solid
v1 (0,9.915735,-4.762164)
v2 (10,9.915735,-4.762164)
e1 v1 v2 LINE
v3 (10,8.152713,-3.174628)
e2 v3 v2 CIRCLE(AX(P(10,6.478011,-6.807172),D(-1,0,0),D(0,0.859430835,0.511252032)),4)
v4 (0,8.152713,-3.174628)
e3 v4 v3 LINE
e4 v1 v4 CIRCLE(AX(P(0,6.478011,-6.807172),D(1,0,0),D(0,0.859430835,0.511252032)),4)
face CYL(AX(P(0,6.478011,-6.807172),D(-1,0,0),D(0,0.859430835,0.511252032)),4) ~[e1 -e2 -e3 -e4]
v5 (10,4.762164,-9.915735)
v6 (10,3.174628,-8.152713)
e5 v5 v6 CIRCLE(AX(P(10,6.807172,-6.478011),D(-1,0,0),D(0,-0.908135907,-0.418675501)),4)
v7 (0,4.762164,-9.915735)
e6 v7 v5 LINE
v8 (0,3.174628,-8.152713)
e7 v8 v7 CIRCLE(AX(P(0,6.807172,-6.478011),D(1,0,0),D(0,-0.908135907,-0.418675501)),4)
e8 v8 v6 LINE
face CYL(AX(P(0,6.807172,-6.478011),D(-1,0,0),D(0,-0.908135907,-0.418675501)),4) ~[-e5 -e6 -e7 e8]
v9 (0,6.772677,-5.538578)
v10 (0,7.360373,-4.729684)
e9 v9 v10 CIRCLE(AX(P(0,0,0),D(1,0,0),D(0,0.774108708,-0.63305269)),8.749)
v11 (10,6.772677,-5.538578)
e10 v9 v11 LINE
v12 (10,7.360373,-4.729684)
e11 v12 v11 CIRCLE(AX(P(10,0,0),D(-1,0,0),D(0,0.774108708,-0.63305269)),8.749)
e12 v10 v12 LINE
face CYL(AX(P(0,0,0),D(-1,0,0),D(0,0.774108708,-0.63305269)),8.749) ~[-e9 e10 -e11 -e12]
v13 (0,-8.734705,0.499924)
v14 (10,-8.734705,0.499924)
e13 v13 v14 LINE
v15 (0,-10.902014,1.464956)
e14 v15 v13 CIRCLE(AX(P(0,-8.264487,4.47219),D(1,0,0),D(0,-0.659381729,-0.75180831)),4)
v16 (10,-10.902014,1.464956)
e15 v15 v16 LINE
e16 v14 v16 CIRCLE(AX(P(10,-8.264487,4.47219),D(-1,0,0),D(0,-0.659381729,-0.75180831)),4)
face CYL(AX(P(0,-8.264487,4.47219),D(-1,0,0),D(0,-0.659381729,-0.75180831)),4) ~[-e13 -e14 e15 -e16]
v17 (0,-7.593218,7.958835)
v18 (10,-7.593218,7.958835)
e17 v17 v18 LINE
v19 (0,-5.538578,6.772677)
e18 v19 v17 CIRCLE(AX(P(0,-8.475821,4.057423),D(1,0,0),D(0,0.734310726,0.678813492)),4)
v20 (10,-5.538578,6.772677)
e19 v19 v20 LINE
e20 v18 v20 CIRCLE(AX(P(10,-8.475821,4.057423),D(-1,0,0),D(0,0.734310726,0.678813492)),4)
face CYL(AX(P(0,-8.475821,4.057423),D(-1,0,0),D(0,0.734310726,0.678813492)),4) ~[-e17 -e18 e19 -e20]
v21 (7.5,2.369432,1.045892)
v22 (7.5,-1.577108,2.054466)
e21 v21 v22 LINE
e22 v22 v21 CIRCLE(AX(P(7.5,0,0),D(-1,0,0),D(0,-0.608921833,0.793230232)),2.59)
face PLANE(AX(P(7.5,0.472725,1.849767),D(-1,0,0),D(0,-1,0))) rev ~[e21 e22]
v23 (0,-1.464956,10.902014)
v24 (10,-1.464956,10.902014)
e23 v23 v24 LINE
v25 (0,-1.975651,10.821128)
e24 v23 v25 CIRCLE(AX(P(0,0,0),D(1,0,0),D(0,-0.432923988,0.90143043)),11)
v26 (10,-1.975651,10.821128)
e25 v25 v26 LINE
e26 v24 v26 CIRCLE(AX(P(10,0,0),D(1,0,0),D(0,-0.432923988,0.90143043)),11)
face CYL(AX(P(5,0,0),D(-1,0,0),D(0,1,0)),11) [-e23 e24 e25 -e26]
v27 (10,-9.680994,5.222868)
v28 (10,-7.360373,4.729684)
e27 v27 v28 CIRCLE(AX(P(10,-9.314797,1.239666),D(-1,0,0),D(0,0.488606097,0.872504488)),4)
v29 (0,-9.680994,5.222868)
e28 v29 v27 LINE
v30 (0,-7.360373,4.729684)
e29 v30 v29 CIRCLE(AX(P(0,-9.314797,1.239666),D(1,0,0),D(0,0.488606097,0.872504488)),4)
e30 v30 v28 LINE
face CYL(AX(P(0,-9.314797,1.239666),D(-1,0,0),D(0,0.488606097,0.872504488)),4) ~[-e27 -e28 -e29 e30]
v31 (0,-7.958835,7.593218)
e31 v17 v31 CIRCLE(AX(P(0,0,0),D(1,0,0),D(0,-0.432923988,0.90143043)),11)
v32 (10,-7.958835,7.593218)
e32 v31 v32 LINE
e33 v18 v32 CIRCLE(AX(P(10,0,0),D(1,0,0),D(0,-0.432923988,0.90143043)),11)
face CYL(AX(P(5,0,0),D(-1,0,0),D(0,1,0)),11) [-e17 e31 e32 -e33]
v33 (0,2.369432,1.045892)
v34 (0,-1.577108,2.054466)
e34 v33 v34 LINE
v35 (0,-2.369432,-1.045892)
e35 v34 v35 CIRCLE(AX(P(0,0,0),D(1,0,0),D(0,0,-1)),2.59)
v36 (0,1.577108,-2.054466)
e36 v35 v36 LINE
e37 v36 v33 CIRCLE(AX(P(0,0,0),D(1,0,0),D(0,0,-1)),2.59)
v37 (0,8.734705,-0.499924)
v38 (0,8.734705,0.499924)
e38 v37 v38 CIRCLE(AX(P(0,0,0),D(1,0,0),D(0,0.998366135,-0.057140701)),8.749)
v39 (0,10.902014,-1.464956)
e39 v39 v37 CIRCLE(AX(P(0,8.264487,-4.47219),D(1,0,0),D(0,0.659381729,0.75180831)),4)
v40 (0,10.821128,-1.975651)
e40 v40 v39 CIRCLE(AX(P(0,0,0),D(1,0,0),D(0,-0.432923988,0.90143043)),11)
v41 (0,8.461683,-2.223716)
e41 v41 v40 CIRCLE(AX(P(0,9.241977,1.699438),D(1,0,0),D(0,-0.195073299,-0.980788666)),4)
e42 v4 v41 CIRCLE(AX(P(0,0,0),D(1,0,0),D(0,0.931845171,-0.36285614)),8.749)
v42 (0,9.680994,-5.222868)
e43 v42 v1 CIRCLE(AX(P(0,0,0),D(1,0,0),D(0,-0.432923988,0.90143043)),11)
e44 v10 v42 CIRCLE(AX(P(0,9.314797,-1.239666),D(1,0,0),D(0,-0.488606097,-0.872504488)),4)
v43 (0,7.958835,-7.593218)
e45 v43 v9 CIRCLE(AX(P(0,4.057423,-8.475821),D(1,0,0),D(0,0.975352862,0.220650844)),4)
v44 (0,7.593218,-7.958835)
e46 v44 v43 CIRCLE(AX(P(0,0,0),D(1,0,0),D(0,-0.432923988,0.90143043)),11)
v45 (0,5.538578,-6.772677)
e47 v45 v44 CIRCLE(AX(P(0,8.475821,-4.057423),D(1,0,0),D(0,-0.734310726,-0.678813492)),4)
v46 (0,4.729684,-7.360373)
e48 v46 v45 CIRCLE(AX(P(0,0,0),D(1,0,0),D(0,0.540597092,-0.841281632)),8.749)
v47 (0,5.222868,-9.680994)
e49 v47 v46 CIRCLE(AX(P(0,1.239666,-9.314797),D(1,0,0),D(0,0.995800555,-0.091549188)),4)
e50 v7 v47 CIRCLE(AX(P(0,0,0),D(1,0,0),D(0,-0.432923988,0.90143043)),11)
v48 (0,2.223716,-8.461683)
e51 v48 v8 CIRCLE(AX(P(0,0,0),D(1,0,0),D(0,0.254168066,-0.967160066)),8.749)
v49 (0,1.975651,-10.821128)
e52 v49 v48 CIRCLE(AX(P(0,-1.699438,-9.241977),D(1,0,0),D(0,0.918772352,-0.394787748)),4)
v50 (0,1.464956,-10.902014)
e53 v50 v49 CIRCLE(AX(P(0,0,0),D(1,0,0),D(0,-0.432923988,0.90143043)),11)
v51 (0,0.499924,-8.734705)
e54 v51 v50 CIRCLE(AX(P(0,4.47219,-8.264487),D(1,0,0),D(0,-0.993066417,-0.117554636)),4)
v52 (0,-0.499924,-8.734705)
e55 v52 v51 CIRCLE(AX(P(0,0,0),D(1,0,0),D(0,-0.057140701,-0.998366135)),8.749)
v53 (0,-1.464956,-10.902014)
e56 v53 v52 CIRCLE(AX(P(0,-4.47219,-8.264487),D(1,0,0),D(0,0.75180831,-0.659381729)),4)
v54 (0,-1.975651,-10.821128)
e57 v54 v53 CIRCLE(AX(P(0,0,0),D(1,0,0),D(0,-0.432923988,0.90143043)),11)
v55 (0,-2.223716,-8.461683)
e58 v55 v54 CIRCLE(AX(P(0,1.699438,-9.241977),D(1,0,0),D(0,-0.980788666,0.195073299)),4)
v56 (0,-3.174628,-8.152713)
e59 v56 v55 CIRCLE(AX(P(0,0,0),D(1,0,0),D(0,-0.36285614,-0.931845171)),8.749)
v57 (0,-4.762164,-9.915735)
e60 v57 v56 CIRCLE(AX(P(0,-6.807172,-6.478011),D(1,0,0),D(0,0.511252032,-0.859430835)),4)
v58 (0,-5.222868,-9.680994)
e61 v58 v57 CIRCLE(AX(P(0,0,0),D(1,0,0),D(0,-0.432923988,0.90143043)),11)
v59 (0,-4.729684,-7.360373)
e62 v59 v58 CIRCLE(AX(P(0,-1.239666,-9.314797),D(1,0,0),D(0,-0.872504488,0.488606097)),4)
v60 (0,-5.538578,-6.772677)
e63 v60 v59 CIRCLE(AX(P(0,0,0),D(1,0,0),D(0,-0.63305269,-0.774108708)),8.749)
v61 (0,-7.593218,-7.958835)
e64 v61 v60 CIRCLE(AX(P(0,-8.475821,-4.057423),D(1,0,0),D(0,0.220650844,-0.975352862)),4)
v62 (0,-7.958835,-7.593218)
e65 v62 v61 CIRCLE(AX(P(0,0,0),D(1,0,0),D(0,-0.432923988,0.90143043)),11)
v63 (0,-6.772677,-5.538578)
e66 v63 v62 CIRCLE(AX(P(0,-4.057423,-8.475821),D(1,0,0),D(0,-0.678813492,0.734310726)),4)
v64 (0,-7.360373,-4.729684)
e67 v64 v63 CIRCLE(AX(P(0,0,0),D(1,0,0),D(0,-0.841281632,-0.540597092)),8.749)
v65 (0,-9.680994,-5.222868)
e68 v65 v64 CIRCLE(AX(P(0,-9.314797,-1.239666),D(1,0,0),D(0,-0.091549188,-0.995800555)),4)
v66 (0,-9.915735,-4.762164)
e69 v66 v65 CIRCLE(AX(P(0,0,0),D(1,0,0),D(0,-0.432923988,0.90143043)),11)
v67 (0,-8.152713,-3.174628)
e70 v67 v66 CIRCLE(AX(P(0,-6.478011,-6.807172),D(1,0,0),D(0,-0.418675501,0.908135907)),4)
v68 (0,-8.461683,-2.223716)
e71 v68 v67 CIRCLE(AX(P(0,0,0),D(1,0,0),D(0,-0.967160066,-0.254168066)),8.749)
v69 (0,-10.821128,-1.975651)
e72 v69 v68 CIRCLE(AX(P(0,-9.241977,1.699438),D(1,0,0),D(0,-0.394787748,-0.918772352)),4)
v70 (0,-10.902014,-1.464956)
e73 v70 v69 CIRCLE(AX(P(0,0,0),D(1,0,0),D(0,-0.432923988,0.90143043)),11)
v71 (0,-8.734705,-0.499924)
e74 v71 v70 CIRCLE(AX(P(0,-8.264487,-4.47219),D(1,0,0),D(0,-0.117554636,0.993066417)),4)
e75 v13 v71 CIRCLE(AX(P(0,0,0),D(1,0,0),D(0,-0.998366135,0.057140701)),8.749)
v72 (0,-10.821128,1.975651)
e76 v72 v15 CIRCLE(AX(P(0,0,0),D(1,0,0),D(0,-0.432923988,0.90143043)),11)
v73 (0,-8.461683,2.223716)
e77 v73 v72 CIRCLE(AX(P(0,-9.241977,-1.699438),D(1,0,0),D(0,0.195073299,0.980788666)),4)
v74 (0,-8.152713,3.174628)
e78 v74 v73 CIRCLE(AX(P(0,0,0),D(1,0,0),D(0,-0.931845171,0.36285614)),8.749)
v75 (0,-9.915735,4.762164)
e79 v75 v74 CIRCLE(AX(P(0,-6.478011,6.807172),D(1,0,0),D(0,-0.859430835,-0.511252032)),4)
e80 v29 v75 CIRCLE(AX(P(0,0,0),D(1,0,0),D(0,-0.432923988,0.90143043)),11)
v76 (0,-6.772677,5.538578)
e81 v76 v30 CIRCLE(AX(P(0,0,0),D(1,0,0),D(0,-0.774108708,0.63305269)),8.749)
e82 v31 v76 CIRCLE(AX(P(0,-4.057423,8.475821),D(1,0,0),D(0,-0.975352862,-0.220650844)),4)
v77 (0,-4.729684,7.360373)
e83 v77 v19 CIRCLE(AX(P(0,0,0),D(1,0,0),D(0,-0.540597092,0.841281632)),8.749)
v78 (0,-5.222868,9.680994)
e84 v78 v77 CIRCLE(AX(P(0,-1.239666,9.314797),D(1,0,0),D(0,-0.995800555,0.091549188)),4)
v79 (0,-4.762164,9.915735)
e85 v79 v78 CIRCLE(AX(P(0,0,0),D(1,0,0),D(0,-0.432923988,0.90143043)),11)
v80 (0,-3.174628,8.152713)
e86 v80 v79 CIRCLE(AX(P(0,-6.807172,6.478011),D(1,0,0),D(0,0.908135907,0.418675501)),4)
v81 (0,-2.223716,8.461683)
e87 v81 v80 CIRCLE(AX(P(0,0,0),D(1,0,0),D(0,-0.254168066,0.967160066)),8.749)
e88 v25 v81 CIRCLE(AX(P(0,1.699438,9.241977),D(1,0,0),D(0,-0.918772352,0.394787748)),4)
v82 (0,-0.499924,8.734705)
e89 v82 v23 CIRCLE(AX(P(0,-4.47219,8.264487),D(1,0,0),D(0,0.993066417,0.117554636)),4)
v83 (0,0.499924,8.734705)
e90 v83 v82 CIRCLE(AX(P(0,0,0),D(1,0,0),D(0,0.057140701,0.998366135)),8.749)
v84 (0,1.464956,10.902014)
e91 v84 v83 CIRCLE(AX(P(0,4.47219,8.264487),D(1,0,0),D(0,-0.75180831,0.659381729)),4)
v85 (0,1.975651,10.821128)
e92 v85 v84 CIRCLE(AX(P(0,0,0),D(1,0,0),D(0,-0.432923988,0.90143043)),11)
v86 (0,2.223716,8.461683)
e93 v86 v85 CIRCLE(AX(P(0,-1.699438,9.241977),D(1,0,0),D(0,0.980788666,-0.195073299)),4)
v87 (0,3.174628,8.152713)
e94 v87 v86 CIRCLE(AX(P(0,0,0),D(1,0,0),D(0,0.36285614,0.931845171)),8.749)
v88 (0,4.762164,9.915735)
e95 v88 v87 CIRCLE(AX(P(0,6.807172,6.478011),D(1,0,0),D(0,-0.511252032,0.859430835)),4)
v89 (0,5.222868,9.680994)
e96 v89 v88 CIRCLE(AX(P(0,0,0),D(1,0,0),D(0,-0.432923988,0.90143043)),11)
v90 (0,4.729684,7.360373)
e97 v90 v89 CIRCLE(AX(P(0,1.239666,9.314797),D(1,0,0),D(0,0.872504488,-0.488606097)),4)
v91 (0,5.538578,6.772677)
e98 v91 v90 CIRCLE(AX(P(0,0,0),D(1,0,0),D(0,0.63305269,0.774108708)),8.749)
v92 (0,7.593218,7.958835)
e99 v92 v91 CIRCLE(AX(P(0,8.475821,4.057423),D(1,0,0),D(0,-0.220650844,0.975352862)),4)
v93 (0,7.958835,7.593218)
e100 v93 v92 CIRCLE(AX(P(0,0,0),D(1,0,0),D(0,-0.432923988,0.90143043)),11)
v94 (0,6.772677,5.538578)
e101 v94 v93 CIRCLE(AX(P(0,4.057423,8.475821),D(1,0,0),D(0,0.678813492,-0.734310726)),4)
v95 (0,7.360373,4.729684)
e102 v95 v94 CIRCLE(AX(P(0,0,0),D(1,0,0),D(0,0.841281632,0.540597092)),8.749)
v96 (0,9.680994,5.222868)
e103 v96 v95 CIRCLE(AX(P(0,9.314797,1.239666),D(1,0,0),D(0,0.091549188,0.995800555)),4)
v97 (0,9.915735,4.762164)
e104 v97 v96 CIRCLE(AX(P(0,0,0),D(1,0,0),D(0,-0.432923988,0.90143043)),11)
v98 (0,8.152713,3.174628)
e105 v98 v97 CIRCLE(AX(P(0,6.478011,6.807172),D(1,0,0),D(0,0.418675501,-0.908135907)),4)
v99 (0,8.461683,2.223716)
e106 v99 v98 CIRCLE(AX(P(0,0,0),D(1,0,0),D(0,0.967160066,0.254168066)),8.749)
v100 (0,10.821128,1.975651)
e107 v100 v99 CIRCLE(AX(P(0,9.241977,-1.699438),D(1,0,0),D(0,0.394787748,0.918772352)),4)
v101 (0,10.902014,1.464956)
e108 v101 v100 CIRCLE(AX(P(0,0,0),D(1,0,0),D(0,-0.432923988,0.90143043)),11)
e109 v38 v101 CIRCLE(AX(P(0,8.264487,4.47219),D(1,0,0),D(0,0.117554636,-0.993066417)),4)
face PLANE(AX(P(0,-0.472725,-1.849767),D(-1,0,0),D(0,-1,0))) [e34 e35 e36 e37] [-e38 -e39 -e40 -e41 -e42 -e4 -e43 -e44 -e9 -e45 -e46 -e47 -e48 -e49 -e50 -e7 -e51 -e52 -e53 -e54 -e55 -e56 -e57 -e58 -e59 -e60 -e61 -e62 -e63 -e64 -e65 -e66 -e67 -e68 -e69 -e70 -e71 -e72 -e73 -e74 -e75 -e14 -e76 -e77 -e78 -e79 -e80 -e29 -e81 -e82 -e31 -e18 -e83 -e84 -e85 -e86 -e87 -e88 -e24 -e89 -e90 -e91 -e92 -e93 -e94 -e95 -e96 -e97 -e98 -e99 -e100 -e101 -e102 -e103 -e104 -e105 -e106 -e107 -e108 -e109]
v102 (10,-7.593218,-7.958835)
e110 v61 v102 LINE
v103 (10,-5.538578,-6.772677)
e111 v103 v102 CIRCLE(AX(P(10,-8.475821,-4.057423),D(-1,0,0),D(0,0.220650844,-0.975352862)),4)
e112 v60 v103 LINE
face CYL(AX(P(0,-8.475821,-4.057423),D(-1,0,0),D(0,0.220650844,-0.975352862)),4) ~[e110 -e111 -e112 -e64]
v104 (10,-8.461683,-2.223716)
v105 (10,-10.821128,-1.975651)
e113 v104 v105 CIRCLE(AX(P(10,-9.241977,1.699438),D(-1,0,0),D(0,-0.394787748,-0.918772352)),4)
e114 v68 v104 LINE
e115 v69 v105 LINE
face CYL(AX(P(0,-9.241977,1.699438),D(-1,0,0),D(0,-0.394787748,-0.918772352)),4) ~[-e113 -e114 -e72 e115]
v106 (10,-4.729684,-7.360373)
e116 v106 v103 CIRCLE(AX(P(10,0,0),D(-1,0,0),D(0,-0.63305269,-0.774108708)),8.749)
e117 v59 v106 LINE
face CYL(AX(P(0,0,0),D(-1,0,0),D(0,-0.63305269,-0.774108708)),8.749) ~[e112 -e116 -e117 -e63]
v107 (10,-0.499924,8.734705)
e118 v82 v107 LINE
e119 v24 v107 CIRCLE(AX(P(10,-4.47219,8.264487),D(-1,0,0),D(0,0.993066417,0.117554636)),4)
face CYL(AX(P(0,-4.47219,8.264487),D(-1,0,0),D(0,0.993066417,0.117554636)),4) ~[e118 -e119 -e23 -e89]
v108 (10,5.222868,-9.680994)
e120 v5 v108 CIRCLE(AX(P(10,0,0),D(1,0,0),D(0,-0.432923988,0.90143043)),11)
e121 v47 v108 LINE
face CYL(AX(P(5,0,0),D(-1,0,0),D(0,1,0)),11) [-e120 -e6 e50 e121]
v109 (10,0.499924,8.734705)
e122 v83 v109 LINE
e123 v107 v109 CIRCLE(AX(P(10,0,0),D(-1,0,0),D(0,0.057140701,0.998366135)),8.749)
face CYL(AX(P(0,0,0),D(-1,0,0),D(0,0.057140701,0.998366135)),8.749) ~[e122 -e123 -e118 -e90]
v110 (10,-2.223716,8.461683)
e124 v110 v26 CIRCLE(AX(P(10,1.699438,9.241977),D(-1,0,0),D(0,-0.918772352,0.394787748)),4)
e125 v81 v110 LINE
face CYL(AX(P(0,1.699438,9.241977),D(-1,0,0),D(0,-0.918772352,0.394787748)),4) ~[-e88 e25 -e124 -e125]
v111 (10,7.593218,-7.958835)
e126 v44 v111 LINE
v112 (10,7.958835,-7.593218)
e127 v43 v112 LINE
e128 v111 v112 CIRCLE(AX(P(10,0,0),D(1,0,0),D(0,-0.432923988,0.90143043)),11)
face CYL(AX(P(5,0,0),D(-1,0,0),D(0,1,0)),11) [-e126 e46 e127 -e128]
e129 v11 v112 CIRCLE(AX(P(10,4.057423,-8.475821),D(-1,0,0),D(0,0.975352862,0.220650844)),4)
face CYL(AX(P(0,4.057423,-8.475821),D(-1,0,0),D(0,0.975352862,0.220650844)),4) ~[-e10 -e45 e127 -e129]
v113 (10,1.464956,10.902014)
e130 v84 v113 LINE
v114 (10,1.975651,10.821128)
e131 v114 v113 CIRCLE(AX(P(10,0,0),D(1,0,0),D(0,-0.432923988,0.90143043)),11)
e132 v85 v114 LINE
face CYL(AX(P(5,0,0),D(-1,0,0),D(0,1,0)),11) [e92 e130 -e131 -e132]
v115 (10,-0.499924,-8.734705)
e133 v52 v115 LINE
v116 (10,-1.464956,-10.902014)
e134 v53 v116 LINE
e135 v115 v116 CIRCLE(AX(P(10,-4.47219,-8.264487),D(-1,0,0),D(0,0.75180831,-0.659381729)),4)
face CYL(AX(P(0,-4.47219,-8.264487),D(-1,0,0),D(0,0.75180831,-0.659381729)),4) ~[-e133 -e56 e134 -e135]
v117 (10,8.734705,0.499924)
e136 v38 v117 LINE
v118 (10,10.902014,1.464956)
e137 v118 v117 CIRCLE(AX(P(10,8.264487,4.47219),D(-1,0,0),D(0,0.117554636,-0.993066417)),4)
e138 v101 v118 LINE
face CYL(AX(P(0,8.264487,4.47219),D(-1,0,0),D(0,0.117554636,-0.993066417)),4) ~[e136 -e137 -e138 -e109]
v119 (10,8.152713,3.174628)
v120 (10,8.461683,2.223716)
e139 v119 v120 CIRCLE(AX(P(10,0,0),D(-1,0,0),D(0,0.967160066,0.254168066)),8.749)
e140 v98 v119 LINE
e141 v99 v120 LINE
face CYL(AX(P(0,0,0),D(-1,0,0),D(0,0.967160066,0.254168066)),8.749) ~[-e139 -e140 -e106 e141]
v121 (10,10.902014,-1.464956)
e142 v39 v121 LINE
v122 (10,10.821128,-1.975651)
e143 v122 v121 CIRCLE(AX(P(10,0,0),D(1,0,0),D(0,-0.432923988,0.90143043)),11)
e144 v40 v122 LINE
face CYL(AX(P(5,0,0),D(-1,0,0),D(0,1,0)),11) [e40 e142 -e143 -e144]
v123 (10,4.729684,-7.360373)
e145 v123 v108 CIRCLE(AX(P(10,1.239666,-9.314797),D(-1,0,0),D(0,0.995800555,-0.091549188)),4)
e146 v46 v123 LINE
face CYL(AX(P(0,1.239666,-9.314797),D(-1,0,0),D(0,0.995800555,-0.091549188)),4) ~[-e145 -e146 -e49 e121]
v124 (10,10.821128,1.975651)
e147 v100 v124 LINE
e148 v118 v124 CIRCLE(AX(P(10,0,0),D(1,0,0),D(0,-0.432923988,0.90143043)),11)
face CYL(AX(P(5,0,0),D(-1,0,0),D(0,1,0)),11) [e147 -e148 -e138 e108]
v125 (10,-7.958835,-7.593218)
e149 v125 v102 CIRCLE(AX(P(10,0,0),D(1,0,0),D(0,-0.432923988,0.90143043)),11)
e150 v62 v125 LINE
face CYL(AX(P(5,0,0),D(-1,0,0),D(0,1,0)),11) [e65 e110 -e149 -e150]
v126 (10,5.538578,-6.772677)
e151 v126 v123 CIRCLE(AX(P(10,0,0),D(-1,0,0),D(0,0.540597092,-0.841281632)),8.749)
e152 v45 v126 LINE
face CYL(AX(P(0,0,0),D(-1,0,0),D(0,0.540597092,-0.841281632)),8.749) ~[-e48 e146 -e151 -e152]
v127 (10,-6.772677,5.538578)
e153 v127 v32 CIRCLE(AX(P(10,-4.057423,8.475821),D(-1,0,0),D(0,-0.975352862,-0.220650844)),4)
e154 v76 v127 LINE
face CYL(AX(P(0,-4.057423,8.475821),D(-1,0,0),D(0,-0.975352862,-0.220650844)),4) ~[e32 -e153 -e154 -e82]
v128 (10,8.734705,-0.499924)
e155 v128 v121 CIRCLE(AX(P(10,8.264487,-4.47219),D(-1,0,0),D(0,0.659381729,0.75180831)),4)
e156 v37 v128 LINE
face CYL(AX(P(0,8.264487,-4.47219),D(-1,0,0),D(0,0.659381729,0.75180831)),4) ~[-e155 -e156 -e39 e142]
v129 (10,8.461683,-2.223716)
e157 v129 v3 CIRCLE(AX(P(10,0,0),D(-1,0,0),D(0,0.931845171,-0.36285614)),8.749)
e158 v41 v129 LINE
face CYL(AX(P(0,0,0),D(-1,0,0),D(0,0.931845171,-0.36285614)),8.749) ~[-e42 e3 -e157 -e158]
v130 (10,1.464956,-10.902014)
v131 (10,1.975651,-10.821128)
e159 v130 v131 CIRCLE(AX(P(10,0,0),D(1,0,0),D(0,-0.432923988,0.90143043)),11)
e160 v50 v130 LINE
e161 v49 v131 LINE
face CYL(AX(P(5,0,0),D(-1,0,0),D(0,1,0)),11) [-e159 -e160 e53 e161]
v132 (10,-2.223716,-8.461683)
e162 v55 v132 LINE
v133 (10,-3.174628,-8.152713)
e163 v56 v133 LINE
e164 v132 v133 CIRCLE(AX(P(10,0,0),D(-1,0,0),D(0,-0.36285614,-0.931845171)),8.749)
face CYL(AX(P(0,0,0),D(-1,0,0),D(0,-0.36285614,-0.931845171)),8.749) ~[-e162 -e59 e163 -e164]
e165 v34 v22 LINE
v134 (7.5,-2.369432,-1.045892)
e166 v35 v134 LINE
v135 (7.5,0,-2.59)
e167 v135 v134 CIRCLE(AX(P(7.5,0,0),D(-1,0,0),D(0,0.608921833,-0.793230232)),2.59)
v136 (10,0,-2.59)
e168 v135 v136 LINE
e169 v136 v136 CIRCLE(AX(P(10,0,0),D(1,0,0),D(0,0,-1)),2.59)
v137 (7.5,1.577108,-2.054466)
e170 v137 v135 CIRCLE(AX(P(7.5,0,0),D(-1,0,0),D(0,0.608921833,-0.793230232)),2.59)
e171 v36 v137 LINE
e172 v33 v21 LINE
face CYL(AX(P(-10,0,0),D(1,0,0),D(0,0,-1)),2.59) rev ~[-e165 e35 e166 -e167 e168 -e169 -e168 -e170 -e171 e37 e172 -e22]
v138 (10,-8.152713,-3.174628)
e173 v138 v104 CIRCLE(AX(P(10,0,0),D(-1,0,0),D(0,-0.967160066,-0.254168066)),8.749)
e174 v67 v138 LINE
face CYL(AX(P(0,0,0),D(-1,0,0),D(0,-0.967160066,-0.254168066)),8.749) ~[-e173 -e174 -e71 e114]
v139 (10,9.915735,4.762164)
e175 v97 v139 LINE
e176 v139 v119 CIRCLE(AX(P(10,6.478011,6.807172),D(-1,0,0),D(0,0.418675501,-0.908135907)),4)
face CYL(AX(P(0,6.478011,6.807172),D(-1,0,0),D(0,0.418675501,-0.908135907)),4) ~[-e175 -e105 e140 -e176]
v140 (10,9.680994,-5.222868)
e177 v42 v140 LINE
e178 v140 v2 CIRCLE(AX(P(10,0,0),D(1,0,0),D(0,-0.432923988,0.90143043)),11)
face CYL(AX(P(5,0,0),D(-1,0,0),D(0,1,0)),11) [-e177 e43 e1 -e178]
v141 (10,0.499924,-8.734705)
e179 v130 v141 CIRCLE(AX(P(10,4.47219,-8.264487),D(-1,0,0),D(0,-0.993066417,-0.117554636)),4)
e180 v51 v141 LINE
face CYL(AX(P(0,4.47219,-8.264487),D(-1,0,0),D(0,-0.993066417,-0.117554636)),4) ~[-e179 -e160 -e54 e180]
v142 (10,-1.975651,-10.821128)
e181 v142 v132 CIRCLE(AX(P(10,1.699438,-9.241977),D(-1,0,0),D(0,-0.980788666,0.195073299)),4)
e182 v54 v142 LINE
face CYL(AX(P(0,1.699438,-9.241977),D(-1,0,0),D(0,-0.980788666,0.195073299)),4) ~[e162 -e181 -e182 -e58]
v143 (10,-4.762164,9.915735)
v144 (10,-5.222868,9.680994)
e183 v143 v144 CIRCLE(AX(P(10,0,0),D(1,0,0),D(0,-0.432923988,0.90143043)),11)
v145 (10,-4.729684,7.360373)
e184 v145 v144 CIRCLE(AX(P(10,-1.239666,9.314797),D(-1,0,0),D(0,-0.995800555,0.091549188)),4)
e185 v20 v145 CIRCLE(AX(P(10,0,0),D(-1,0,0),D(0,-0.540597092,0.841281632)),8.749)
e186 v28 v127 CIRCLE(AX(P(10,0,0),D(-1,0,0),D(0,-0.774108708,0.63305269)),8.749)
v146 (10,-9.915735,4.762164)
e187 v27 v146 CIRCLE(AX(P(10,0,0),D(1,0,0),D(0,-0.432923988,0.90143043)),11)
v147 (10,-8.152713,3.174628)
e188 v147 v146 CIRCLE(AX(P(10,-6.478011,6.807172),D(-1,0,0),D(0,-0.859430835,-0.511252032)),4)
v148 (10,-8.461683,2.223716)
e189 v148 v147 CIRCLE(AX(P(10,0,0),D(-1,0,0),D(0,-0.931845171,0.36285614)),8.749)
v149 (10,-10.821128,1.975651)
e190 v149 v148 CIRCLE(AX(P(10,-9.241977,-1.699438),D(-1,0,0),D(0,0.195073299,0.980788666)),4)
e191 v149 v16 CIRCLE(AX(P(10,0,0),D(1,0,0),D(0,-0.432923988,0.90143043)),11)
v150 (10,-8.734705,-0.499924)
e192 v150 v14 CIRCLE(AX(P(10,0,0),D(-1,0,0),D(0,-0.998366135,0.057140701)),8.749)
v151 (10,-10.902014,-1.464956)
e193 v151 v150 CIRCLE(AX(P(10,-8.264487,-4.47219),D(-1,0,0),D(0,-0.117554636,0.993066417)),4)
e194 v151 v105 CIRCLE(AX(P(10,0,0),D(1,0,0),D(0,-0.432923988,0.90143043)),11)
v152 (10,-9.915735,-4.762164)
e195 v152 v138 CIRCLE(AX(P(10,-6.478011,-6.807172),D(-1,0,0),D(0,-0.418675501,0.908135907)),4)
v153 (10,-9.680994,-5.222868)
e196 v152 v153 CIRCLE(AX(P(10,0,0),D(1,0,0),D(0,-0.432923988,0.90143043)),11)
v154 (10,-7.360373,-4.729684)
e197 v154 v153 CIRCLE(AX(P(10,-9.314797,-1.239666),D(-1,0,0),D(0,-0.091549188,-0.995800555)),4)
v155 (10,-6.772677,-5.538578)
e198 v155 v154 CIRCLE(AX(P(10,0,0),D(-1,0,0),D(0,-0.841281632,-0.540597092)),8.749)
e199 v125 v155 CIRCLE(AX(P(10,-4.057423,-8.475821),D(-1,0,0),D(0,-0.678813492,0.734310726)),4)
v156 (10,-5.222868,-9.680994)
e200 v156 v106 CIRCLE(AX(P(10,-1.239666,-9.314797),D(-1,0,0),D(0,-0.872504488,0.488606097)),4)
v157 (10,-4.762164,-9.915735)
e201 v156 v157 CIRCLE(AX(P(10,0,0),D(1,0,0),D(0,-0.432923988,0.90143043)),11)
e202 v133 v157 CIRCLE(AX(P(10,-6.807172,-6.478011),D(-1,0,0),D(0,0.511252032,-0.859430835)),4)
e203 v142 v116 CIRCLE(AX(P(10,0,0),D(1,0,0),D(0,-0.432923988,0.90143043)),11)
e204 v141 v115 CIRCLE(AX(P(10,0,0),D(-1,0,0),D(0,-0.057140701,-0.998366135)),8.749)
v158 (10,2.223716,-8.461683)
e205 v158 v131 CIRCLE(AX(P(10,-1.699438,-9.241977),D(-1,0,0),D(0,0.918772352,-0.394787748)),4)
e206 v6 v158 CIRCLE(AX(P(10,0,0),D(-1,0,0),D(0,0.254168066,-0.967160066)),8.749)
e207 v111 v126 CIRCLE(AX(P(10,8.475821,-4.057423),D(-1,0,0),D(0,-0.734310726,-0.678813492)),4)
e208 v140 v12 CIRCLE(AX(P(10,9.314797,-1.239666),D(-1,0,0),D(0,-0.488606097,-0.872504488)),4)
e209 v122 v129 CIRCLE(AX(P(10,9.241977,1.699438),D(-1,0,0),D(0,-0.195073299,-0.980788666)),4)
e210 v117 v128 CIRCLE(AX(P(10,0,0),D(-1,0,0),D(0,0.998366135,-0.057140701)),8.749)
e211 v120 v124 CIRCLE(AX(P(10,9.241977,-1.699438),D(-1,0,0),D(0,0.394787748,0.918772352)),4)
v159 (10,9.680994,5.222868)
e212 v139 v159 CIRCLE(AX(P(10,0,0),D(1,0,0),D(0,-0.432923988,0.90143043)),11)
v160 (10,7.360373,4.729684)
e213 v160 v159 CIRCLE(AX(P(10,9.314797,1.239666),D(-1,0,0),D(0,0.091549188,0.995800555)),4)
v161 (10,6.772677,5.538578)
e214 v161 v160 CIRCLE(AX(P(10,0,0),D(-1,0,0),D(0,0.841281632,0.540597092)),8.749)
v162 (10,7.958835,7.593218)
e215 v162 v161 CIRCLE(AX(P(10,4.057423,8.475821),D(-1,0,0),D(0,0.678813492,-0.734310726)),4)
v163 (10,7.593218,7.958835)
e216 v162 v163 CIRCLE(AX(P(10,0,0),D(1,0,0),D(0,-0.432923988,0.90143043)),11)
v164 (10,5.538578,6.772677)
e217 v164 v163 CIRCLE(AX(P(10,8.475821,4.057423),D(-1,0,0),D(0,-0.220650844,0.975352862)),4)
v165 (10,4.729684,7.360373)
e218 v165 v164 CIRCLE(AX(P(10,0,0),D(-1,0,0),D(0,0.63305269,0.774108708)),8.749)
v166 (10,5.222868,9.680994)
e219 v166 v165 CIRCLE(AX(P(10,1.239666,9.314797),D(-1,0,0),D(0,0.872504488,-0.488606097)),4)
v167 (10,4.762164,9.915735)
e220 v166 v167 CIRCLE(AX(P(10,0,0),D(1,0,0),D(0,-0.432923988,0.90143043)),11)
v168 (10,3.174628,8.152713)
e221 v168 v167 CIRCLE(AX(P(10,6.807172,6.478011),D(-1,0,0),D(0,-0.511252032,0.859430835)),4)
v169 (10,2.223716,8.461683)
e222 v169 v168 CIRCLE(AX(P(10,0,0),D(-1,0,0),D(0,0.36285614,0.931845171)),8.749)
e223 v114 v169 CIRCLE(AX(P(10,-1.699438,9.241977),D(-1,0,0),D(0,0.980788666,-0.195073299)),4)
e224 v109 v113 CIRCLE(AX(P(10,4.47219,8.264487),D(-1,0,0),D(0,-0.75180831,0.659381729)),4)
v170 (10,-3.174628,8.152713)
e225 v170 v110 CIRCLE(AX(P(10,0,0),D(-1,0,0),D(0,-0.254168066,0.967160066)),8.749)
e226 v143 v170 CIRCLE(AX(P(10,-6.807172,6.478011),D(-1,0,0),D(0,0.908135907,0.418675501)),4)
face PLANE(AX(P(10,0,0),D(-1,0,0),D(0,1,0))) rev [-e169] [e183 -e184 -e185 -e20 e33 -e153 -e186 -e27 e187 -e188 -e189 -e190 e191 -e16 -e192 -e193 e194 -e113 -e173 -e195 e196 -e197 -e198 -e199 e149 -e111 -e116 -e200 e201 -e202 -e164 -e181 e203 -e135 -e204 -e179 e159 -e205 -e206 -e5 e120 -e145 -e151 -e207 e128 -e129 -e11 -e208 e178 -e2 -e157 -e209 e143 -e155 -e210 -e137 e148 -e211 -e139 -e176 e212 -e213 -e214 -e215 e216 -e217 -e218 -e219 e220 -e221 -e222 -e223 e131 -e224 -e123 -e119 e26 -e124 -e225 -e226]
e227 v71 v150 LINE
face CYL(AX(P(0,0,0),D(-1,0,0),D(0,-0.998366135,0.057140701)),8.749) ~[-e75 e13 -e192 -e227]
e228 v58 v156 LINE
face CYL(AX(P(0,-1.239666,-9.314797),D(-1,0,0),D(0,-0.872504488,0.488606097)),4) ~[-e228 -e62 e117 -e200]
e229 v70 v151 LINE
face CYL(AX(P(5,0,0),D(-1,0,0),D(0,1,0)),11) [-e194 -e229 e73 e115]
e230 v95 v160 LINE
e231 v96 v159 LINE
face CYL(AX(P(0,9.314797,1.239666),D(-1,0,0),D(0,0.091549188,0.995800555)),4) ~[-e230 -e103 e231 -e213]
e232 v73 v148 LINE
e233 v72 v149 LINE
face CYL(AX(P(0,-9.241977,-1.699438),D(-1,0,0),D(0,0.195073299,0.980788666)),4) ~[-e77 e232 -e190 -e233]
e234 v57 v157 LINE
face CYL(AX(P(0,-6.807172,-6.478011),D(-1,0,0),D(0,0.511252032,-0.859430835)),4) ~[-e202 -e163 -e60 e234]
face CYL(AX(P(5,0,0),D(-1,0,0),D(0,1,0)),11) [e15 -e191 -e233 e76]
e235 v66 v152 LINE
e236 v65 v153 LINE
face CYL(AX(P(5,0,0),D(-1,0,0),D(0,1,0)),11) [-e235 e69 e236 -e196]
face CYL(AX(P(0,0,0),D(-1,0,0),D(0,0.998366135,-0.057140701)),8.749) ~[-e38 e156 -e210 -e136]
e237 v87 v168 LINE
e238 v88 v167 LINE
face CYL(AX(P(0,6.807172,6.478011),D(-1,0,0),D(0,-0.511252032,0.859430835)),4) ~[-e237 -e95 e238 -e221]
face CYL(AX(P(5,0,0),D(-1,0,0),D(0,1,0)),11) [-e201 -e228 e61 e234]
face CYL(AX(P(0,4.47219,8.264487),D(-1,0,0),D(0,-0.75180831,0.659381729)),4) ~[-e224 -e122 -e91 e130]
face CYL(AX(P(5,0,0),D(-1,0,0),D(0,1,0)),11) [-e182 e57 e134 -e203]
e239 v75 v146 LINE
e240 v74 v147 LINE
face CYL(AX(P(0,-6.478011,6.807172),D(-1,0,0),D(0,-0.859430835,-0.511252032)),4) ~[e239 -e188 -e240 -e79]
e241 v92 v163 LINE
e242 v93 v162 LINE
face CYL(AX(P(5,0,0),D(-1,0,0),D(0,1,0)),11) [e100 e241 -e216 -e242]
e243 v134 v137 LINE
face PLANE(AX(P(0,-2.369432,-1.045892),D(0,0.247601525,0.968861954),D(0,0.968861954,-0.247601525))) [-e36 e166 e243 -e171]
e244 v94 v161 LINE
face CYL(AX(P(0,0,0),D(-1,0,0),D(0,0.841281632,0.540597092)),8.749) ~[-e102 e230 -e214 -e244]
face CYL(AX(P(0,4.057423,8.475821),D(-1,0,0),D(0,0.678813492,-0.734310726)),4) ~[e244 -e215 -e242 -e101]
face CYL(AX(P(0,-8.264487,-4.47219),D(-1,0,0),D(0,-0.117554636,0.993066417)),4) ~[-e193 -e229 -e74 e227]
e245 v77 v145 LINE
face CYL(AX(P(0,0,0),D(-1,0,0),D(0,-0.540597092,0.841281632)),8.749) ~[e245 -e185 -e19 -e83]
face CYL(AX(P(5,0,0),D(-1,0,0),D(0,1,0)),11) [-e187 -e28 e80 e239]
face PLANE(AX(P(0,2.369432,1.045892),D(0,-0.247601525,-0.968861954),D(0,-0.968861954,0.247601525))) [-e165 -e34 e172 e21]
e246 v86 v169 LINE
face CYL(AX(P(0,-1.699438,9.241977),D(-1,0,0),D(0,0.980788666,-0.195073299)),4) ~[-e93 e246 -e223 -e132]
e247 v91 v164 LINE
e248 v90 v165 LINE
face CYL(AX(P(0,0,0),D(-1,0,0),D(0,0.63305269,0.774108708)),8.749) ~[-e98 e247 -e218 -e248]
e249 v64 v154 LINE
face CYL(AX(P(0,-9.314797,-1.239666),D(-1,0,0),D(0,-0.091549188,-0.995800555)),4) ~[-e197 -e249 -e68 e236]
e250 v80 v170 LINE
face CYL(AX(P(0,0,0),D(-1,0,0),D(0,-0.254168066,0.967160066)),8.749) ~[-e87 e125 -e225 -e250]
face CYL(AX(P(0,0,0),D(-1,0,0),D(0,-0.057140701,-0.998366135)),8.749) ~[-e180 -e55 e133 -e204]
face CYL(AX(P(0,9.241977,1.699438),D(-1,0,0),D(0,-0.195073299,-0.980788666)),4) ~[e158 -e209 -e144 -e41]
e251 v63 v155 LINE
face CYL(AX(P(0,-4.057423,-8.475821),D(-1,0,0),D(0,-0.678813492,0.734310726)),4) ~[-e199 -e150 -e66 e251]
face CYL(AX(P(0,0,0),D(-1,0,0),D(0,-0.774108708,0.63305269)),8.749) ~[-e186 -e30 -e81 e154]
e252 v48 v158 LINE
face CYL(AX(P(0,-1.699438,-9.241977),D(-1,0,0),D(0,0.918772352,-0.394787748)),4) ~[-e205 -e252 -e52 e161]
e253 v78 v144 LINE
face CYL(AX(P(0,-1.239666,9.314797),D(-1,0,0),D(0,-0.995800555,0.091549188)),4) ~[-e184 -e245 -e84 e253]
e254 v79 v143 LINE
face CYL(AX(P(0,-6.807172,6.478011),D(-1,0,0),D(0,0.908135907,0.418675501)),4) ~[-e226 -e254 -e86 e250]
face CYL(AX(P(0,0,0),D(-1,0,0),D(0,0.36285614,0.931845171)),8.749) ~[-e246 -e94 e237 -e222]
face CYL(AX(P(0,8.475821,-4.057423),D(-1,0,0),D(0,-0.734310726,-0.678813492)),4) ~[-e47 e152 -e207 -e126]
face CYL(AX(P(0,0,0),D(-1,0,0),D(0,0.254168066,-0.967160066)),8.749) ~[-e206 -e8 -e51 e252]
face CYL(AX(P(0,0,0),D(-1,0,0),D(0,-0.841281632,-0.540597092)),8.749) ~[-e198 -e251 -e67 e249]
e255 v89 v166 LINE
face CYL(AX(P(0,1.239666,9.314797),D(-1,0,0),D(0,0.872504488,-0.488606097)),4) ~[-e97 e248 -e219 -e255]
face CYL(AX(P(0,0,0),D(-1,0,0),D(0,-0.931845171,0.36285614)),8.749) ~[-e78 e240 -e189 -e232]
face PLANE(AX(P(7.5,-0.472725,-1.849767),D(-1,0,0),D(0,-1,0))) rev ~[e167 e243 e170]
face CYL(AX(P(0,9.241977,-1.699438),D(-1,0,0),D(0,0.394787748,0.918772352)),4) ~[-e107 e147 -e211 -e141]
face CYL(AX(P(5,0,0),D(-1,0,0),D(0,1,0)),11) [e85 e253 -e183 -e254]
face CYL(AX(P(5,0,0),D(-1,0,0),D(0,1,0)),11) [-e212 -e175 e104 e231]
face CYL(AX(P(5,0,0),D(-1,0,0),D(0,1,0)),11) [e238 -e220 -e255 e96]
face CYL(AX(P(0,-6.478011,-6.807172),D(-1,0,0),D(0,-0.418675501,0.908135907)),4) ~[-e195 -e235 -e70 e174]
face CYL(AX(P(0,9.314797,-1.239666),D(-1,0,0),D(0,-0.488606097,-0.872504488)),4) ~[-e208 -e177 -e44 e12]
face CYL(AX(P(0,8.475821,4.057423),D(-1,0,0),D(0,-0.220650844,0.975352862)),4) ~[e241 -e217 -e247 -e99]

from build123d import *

# Parameters (mm, degrees)
SKETCH1_W           = 10
SKETCH1_H           = 11
CUT_EXTRUDE1_DEPTH  = 11
CUT_EXTRUDE2_DEPTH  = 11
CUT_EXTRUDE3_DEPTH  = 11
CUT_EXTRUDE4_DEPTH  = 11
CUT_EXTRUDE5_DEPTH  = 11
CUT_EXTRUDE6_DEPTH  = 11
CUT_EXTRUDE7_DEPTH  = 11
CUT_EXTRUDE8_DEPTH  = 11
CUT_EXTRUDE9_DEPTH  = 11
CUT_EXTRUDE10_DEPTH = 11
CUT_EXTRUDE11_DEPTH = 11
CUT_EXTRUDE12_DEPTH = 11
CUT_EXTRUDE13_DEPTH = 11
CUT_EXTRUDE14_DEPTH = 11
CUT_EXTRUDE15_DEPTH = 11
CUT_EXTRUDE16_DEPTH = 11
CUT_EXTRUDE17_DEPTH = 11
CUT_EXTRUDE18_DEPTH = 11
CUT_EXTRUDE19_DEPTH = 11
CUT_EXTRUDE20_DEPTH = 11
HOLE1_D             = 5.18
HOLE1_DEPTH         = 10
BOSS_EXTRUDE1_DEPTH = 7.5
BOSS_EXTRUDE2_DEPTH = 7.5


with BuildPart() as part:
    # Sketch1 → Revolve1 (revolve)
    with BuildSketch(Plane(origin=(0, 0, 0), x_dir=(-1, 0, 0), z_dir=(0, 0, -1))):
        with Locations((-5, 5.5)):
            Rectangle(SKETCH1_W, SKETCH1_H)
    revolve(axis=Axis((10, 0, 0), (-1, 0, 0)))

    # Sketch2 → Cut-Extrude1 (cut, through all)
    with BuildSketch(Plane.ZY):
        with BuildLine():
            ThreePointArc((10.821127601, -1.975651141), (9.66022001, -2.278635697), (8.461683425, -2.223716399))
            ThreePointArc((8.461683425, -2.223716399), (8.320793461, -2.703589684), (8.152713396, -3.174628369))
            ThreePointArc((8.152713396, -3.174628369), (9.154630615, -3.834679853), (9.915734733, -4.762163869))
            ThreePointArc((9.915734733, -4.762163869), (10.461621679, -3.399186938), (10.821127601, -1.975651141))
        make_face()
    extrude(amount=-CUT_EXTRUDE1_DEPTH, mode=Mode.SUBTRACT)

    # Sketch3 → Cut-Extrude2 (cut, through all)
    with BuildSketch(Plane.ZY):
        with BuildLine():
            ThreePointArc((9.680994141, -5.222868219), (8.483278035, -5.15228348), (7.360373002, -4.729683951))
            ThreePointArc((7.360373002, -4.729683951), (7.078089684, -5.142533172), (6.772677084, -5.538577987))
            ThreePointArc((6.772677084, -5.538577987), (7.521589858, -6.4759337), (7.958834566, -7.593217523))
            ThreePointArc((7.958834566, -7.593217523), (8.899186938, -6.465637775), (9.680994141, -5.222868219))
        make_face()
    extrude(amount=-CUT_EXTRUDE2_DEPTH, mode=Mode.SUBTRACT)

    # Sketch4 → Cut-Extrude3 (cut, through all)
    with BuildSketch(Plane.ZY):
        with BuildLine():
            ThreePointArc((5.222868219, -9.680994141), (6.465637775, -8.899186938), (7.593217523, -7.958834566))
            ThreePointArc((7.593217523, -7.958834566), (6.4759337, -7.521589858), (5.538577987, -6.772677084))
            ThreePointArc((5.538577987, -6.772677084), (5.142533172, -7.078089684), (4.729683951, -7.360373002))
            ThreePointArc((4.729683951, -7.360373002), (5.15228348, -8.483278035), (5.222868219, -9.680994141))
        make_face()
    extrude(amount=-CUT_EXTRUDE3_DEPTH, mode=Mode.SUBTRACT)

    # Sketch5 → Cut-Extrude4 (cut, through all)
    with BuildSketch(Plane.ZY):
        with BuildLine():
            ThreePointArc((1.975651141, -10.821127601), (3.399186938, -10.461621679), (4.762163869, -9.915734733))
            ThreePointArc((4.762163869, -9.915734733), (3.834679853, -9.154630615), (3.174628369, -8.152713396))
            ThreePointArc((3.174628369, -8.152713396), (2.703589684, -8.320793461), (2.223716399, -8.461683425))
            ThreePointArc((2.223716399, -8.461683425), (2.278635697, -9.66022001), (1.975651141, -10.821127601))
        make_face()
    extrude(amount=-CUT_EXTRUDE4_DEPTH, mode=Mode.SUBTRACT)

    # Sketch6 → Cut-Extrude5 (cut, through all)
    with BuildSketch(Plane.ZY):
        with BuildLine():
            ThreePointArc((1.464956435, -10.902013697), (0.818060825, -9.891552344), (0.499924007, -8.734705318))
            ThreePointArc((0.499924007, -8.734705318), (0, -8.749), (-0.499924007, -8.734705318))
            ThreePointArc((-0.499924007, -8.734705318), (-0.818060825, -9.891552344), (-1.464956435, -10.902013697))
            ThreePointArc((-1.464956435, -10.902013697), (0, -11), (1.464956435, -10.902013697))
        make_face()
    extrude(amount=-CUT_EXTRUDE5_DEPTH, mode=Mode.SUBTRACT)

    # Sketch7 → Cut-Extrude6 (cut, through all)
    with BuildSketch(Plane.ZY):
        with BuildLine():
            ThreePointArc((-1.975651141, -10.821127601), (-2.278635697, -9.66022001), (-2.223716399, -8.461683425))
            ThreePointArc((-2.223716399, -8.461683425), (-2.703589684, -8.320793461), (-3.174628369, -8.152713396))
            ThreePointArc((-3.174628369, -8.152713396), (-3.834679853, -9.154630615), (-4.762163869, -9.915734733))
            ThreePointArc((-4.762163869, -9.915734733), (-3.399186938, -10.461621679), (-1.975651141, -10.821127601))
        make_face()
    extrude(amount=-CUT_EXTRUDE6_DEPTH, mode=Mode.SUBTRACT)

    # Sketch8 → Cut-Extrude7 (cut, through all)
    with BuildSketch(Plane.ZY):
        with BuildLine():
            ThreePointArc((-5.222868219, -9.680994141), (-5.15228348, -8.483278035), (-4.729683951, -7.360373002))
            ThreePointArc((-4.729683951, -7.360373002), (-5.142533172, -7.078089684), (-5.538577987, -6.772677084))
            ThreePointArc((-5.538577987, -6.772677084), (-6.4759337, -7.521589858), (-7.593217523, -7.958834566))
            ThreePointArc((-7.593217523, -7.958834566), (-6.465637775, -8.899186938), (-5.222868219, -9.680994141))
        make_face()
    extrude(amount=-CUT_EXTRUDE7_DEPTH, mode=Mode.SUBTRACT)

    # Sketch9 → Cut-Extrude8 (cut, through all)
    with BuildSketch(Plane.ZY):
        with BuildLine():
            ThreePointArc((-7.958834566, -7.593217523), (-7.521589858, -6.4759337), (-6.772677084, -5.538577987))
            ThreePointArc((-6.772677084, -5.538577987), (-7.078089684, -5.142533172), (-7.360373002, -4.729683951))
            ThreePointArc((-7.360373002, -4.729683951), (-8.483278035, -5.15228348), (-9.680994141, -5.222868219))
            ThreePointArc((-9.680994141, -5.222868219), (-8.899186938, -6.465637775), (-7.958834566, -7.593217523))
        make_face()
    extrude(amount=-CUT_EXTRUDE8_DEPTH, mode=Mode.SUBTRACT)

    # Sketch10 → Cut-Extrude9 (cut, through all)
    with BuildSketch(Plane.ZY):
        with BuildLine():
            ThreePointArc((-9.915734733, -4.762163869), (-9.154630615, -3.834679853), (-8.152713396, -3.174628369))
            ThreePointArc((-8.152713396, -3.174628369), (-8.320793461, -2.703589684), (-8.461683425, -2.223716399))
            ThreePointArc((-8.461683425, -2.223716399), (-9.66022001, -2.278635697), (-10.821127601, -1.975651141))
            ThreePointArc((-10.821127601, -1.975651141), (-10.461621679, -3.399186938), (-9.915734733, -4.762163869))
        make_face()
    extrude(amount=-CUT_EXTRUDE9_DEPTH, mode=Mode.SUBTRACT)

    # Sketch11 → Cut-Extrude10 (cut, through all)
    with BuildSketch(Plane.ZY):
        with BuildLine():
            ThreePointArc((-10.902013697, -1.464956435), (-9.891552344, -0.818060825), (-8.734705318, -0.499924007))
            ThreePointArc((-8.734705318, -0.499924007), (-8.749, 0), (-8.734705318, 0.499924007))
            ThreePointArc((-8.734705318, 0.499924007), (-9.891552344, 0.818060825), (-10.902013697, 1.464956435))
            ThreePointArc((-10.902013697, 1.464956435), (-11, 0), (-10.902013697, -1.464956435))
        make_face()
    extrude(amount=-CUT_EXTRUDE10_DEPTH, mode=Mode.SUBTRACT)

    # Sketch12 → Cut-Extrude11 (cut, through all)
    with BuildSketch(Plane.ZY):
        with BuildLine():
            ThreePointArc((-10.821127601, 1.975651141), (-9.66022001, 2.278635697), (-8.461683425, 2.223716399))
            ThreePointArc((-8.461683425, 2.223716399), (-8.320793461, 2.703589684), (-8.152713396, 3.174628369))
            ThreePointArc((-8.152713396, 3.174628369), (-9.154630615, 3.834679853), (-9.915734733, 4.762163869))
            ThreePointArc((-9.915734733, 4.762163869), (-10.461621679, 3.399186938), (-10.821127601, 1.975651141))
        make_face()
    extrude(amount=-CUT_EXTRUDE11_DEPTH, mode=Mode.SUBTRACT)

    # Sketch13 → Cut-Extrude12 (cut, through all)
    with BuildSketch(Plane.ZY):
        with BuildLine():
            ThreePointArc((-9.680994141, 5.222868219), (-8.483278035, 5.15228348), (-7.360373002, 4.729683951))
            ThreePointArc((-7.360373002, 4.729683951), (-7.078089684, 5.142533172), (-6.772677084, 5.538577987))
            ThreePointArc((-6.772677084, 5.538577987), (-7.521589858, 6.4759337), (-7.958834566, 7.593217523))
            ThreePointArc((-7.958834566, 7.593217523), (-8.899186938, 6.465637775), (-9.680994141, 5.222868219))
        make_face()
    extrude(amount=-CUT_EXTRUDE12_DEPTH, mode=Mode.SUBTRACT)

    # Sketch14 → Cut-Extrude13 (cut, through all)
    with BuildSketch(Plane.ZY):
        with BuildLine():
            ThreePointArc((-7.593217523, 7.958834566), (-6.4759337, 7.521589858), (-5.538577987, 6.772677084))
            ThreePointArc((-5.538577987, 6.772677084), (-5.142533172, 7.078089684), (-4.729683951, 7.360373002))
            ThreePointArc((-4.729683951, 7.360373002), (-5.15228348, 8.483278035), (-5.222868219, 9.680994141))
            ThreePointArc((-5.222868219, 9.680994141), (-6.465637775, 8.899186938), (-7.593217523, 7.958834566))
        make_face()
    extrude(amount=-CUT_EXTRUDE13_DEPTH, mode=Mode.SUBTRACT)

    # Sketch15 → Cut-Extrude14 (cut, through all)
    with BuildSketch(Plane.ZY):
        with BuildLine():
            ThreePointArc((-4.762163869, 9.915734733), (-3.834679853, 9.154630615), (-3.174628369, 8.152713396))
            ThreePointArc((-3.174628369, 8.152713396), (-2.703589684, 8.320793461), (-2.223716399, 8.461683425))
            ThreePointArc((-2.223716399, 8.461683425), (-2.278635697, 9.66022001), (-1.975651141, 10.821127601))
            ThreePointArc((-1.975651141, 10.821127601), (-3.399186938, 10.461621679), (-4.762163869, 9.915734733))
        make_face()
    extrude(amount=-CUT_EXTRUDE14_DEPTH, mode=Mode.SUBTRACT)

    # Sketch16 → Cut-Extrude15 (cut, through all)
    with BuildSketch(Plane.ZY):
        with BuildLine():
            ThreePointArc((-1.464956435, 10.902013697), (-0.818060825, 9.891552344), (-0.499924007, 8.734705318))
            ThreePointArc((-0.499924007, 8.734705318), (0, 8.749), (0.499924007, 8.734705318))
            ThreePointArc((0.499924007, 8.734705318), (0.818060825, 9.891552344), (1.464956435, 10.902013697))
            ThreePointArc((1.464956435, 10.902013697), (0, 11), (-1.464956435, 10.902013697))
        make_face()
    extrude(amount=-CUT_EXTRUDE15_DEPTH, mode=Mode.SUBTRACT)

    # Sketch17 → Cut-Extrude16 (cut, through all)
    with BuildSketch(Plane.ZY):
        with BuildLine():
            ThreePointArc((1.975651141, 10.821127601), (2.278635697, 9.66022001), (2.223716399, 8.461683425))
            ThreePointArc((2.223716399, 8.461683425), (2.703589684, 8.320793461), (3.174628369, 8.152713396))
            ThreePointArc((3.174628369, 8.152713396), (3.834679853, 9.154630615), (4.762163869, 9.915734733))
            ThreePointArc((4.762163869, 9.915734733), (3.399186938, 10.461621679), (1.975651141, 10.821127601))
        make_face()
    extrude(amount=-CUT_EXTRUDE16_DEPTH, mode=Mode.SUBTRACT)

    # Sketch18 → Cut-Extrude17 (cut, through all)
    with BuildSketch(Plane.ZY):
        with BuildLine():
            ThreePointArc((5.222868219, 9.680994141), (5.15228348, 8.483278035), (4.729683951, 7.360373002))
            ThreePointArc((4.729683951, 7.360373002), (5.142533172, 7.078089684), (5.538577987, 6.772677084))
            ThreePointArc((5.538577987, 6.772677084), (6.4759337, 7.521589858), (7.593217523, 7.958834566))
            ThreePointArc((7.593217523, 7.958834566), (6.465637775, 8.899186938), (5.222868219, 9.680994141))
        make_face()
    extrude(amount=-CUT_EXTRUDE17_DEPTH, mode=Mode.SUBTRACT)

    # Sketch19 → Cut-Extrude18 (cut, through all)
    with BuildSketch(Plane.ZY):
        with BuildLine():
            ThreePointArc((7.958834566, 7.593217523), (7.521589858, 6.4759337), (6.772677084, 5.538577987))
            ThreePointArc((6.772677084, 5.538577987), (7.078089684, 5.142533172), (7.360373002, 4.729683951))
            ThreePointArc((7.360373002, 4.729683951), (8.483278035, 5.15228348), (9.680994141, 5.222868219))
            ThreePointArc((9.680994141, 5.222868219), (8.899186938, 6.465637775), (7.958834566, 7.593217523))
        make_face()
    extrude(amount=-CUT_EXTRUDE18_DEPTH, mode=Mode.SUBTRACT)

    # Sketch20 → Cut-Extrude19 (cut, through all)
    with BuildSketch(Plane.ZY):
        with BuildLine():
            ThreePointArc((9.915734733, 4.762163869), (9.154630615, 3.834679853), (8.152713396, 3.174628369))
            ThreePointArc((8.152713396, 3.174628369), (8.320793461, 2.703589684), (8.461683425, 2.223716399))
            ThreePointArc((8.461683425, 2.223716399), (9.66022001, 2.278635697), (10.821127601, 1.975651141))
            ThreePointArc((10.821127601, 1.975651141), (10.461621679, 3.399186938), (9.915734733, 4.762163869))
        make_face()
    extrude(amount=-CUT_EXTRUDE19_DEPTH, mode=Mode.SUBTRACT)

    # Sketch21 → Cut-Extrude20 (cut, through all)
    with BuildSketch(Plane.ZY):
        with BuildLine():
            ThreePointArc((10.902013697, 1.464956435), (9.891552344, 0.818060825), (8.734705318, 0.499924007))
            ThreePointArc((8.734705318, 0.499924007), (8.749, 0), (8.734705318, -0.499924007))
            ThreePointArc((8.734705318, -0.499924007), (9.891552344, -0.818060825), (10.902013697, -1.464956435))
            ThreePointArc((10.902013697, -1.464956435), (11, 0), (10.902013697, 1.464956435))
        make_face()
    extrude(amount=-CUT_EXTRUDE20_DEPTH, mode=Mode.SUBTRACT)

    # Hole1
    with Locations(Plane.ZY):
        with Locations((0, 0)):
            Hole(HOLE1_D / 2, depth=HOLE1_DEPTH)

    # Sketch24 → Boss-Extrude1 (add)
    with BuildSketch(Plane(origin=(0, 0, 0), x_dir=(0, -1, 0), z_dir=(-1, 0, 0))):
        with BuildLine():
            Line((-2.369432427, 1.045891951), (1.577107549, 2.054466301))
            ThreePointArc((1.577107549, 2.054466301), (-0.641287949, 2.50935246), (-2.369432427, 1.045891951))
        make_face()
    extrude(amount=-BOSS_EXTRUDE1_DEPTH)

    # Sketch25 → Boss-Extrude2 (add)
    with BuildSketch(Plane(origin=(0, 0, 0), x_dir=(0, -1, 0), z_dir=(-1, 0, 0))):
        with BuildLine():
            Line((2.369432427, -1.045891951), (-1.577107549, -2.054466301))
            ThreePointArc((-1.577107549, -2.054466301), (0.641287949, -2.50935246), (2.369432427, -1.045891951))
        make_face()
    extrude(amount=-BOSS_EXTRUDE2_DEPTH)


solid = part.part
